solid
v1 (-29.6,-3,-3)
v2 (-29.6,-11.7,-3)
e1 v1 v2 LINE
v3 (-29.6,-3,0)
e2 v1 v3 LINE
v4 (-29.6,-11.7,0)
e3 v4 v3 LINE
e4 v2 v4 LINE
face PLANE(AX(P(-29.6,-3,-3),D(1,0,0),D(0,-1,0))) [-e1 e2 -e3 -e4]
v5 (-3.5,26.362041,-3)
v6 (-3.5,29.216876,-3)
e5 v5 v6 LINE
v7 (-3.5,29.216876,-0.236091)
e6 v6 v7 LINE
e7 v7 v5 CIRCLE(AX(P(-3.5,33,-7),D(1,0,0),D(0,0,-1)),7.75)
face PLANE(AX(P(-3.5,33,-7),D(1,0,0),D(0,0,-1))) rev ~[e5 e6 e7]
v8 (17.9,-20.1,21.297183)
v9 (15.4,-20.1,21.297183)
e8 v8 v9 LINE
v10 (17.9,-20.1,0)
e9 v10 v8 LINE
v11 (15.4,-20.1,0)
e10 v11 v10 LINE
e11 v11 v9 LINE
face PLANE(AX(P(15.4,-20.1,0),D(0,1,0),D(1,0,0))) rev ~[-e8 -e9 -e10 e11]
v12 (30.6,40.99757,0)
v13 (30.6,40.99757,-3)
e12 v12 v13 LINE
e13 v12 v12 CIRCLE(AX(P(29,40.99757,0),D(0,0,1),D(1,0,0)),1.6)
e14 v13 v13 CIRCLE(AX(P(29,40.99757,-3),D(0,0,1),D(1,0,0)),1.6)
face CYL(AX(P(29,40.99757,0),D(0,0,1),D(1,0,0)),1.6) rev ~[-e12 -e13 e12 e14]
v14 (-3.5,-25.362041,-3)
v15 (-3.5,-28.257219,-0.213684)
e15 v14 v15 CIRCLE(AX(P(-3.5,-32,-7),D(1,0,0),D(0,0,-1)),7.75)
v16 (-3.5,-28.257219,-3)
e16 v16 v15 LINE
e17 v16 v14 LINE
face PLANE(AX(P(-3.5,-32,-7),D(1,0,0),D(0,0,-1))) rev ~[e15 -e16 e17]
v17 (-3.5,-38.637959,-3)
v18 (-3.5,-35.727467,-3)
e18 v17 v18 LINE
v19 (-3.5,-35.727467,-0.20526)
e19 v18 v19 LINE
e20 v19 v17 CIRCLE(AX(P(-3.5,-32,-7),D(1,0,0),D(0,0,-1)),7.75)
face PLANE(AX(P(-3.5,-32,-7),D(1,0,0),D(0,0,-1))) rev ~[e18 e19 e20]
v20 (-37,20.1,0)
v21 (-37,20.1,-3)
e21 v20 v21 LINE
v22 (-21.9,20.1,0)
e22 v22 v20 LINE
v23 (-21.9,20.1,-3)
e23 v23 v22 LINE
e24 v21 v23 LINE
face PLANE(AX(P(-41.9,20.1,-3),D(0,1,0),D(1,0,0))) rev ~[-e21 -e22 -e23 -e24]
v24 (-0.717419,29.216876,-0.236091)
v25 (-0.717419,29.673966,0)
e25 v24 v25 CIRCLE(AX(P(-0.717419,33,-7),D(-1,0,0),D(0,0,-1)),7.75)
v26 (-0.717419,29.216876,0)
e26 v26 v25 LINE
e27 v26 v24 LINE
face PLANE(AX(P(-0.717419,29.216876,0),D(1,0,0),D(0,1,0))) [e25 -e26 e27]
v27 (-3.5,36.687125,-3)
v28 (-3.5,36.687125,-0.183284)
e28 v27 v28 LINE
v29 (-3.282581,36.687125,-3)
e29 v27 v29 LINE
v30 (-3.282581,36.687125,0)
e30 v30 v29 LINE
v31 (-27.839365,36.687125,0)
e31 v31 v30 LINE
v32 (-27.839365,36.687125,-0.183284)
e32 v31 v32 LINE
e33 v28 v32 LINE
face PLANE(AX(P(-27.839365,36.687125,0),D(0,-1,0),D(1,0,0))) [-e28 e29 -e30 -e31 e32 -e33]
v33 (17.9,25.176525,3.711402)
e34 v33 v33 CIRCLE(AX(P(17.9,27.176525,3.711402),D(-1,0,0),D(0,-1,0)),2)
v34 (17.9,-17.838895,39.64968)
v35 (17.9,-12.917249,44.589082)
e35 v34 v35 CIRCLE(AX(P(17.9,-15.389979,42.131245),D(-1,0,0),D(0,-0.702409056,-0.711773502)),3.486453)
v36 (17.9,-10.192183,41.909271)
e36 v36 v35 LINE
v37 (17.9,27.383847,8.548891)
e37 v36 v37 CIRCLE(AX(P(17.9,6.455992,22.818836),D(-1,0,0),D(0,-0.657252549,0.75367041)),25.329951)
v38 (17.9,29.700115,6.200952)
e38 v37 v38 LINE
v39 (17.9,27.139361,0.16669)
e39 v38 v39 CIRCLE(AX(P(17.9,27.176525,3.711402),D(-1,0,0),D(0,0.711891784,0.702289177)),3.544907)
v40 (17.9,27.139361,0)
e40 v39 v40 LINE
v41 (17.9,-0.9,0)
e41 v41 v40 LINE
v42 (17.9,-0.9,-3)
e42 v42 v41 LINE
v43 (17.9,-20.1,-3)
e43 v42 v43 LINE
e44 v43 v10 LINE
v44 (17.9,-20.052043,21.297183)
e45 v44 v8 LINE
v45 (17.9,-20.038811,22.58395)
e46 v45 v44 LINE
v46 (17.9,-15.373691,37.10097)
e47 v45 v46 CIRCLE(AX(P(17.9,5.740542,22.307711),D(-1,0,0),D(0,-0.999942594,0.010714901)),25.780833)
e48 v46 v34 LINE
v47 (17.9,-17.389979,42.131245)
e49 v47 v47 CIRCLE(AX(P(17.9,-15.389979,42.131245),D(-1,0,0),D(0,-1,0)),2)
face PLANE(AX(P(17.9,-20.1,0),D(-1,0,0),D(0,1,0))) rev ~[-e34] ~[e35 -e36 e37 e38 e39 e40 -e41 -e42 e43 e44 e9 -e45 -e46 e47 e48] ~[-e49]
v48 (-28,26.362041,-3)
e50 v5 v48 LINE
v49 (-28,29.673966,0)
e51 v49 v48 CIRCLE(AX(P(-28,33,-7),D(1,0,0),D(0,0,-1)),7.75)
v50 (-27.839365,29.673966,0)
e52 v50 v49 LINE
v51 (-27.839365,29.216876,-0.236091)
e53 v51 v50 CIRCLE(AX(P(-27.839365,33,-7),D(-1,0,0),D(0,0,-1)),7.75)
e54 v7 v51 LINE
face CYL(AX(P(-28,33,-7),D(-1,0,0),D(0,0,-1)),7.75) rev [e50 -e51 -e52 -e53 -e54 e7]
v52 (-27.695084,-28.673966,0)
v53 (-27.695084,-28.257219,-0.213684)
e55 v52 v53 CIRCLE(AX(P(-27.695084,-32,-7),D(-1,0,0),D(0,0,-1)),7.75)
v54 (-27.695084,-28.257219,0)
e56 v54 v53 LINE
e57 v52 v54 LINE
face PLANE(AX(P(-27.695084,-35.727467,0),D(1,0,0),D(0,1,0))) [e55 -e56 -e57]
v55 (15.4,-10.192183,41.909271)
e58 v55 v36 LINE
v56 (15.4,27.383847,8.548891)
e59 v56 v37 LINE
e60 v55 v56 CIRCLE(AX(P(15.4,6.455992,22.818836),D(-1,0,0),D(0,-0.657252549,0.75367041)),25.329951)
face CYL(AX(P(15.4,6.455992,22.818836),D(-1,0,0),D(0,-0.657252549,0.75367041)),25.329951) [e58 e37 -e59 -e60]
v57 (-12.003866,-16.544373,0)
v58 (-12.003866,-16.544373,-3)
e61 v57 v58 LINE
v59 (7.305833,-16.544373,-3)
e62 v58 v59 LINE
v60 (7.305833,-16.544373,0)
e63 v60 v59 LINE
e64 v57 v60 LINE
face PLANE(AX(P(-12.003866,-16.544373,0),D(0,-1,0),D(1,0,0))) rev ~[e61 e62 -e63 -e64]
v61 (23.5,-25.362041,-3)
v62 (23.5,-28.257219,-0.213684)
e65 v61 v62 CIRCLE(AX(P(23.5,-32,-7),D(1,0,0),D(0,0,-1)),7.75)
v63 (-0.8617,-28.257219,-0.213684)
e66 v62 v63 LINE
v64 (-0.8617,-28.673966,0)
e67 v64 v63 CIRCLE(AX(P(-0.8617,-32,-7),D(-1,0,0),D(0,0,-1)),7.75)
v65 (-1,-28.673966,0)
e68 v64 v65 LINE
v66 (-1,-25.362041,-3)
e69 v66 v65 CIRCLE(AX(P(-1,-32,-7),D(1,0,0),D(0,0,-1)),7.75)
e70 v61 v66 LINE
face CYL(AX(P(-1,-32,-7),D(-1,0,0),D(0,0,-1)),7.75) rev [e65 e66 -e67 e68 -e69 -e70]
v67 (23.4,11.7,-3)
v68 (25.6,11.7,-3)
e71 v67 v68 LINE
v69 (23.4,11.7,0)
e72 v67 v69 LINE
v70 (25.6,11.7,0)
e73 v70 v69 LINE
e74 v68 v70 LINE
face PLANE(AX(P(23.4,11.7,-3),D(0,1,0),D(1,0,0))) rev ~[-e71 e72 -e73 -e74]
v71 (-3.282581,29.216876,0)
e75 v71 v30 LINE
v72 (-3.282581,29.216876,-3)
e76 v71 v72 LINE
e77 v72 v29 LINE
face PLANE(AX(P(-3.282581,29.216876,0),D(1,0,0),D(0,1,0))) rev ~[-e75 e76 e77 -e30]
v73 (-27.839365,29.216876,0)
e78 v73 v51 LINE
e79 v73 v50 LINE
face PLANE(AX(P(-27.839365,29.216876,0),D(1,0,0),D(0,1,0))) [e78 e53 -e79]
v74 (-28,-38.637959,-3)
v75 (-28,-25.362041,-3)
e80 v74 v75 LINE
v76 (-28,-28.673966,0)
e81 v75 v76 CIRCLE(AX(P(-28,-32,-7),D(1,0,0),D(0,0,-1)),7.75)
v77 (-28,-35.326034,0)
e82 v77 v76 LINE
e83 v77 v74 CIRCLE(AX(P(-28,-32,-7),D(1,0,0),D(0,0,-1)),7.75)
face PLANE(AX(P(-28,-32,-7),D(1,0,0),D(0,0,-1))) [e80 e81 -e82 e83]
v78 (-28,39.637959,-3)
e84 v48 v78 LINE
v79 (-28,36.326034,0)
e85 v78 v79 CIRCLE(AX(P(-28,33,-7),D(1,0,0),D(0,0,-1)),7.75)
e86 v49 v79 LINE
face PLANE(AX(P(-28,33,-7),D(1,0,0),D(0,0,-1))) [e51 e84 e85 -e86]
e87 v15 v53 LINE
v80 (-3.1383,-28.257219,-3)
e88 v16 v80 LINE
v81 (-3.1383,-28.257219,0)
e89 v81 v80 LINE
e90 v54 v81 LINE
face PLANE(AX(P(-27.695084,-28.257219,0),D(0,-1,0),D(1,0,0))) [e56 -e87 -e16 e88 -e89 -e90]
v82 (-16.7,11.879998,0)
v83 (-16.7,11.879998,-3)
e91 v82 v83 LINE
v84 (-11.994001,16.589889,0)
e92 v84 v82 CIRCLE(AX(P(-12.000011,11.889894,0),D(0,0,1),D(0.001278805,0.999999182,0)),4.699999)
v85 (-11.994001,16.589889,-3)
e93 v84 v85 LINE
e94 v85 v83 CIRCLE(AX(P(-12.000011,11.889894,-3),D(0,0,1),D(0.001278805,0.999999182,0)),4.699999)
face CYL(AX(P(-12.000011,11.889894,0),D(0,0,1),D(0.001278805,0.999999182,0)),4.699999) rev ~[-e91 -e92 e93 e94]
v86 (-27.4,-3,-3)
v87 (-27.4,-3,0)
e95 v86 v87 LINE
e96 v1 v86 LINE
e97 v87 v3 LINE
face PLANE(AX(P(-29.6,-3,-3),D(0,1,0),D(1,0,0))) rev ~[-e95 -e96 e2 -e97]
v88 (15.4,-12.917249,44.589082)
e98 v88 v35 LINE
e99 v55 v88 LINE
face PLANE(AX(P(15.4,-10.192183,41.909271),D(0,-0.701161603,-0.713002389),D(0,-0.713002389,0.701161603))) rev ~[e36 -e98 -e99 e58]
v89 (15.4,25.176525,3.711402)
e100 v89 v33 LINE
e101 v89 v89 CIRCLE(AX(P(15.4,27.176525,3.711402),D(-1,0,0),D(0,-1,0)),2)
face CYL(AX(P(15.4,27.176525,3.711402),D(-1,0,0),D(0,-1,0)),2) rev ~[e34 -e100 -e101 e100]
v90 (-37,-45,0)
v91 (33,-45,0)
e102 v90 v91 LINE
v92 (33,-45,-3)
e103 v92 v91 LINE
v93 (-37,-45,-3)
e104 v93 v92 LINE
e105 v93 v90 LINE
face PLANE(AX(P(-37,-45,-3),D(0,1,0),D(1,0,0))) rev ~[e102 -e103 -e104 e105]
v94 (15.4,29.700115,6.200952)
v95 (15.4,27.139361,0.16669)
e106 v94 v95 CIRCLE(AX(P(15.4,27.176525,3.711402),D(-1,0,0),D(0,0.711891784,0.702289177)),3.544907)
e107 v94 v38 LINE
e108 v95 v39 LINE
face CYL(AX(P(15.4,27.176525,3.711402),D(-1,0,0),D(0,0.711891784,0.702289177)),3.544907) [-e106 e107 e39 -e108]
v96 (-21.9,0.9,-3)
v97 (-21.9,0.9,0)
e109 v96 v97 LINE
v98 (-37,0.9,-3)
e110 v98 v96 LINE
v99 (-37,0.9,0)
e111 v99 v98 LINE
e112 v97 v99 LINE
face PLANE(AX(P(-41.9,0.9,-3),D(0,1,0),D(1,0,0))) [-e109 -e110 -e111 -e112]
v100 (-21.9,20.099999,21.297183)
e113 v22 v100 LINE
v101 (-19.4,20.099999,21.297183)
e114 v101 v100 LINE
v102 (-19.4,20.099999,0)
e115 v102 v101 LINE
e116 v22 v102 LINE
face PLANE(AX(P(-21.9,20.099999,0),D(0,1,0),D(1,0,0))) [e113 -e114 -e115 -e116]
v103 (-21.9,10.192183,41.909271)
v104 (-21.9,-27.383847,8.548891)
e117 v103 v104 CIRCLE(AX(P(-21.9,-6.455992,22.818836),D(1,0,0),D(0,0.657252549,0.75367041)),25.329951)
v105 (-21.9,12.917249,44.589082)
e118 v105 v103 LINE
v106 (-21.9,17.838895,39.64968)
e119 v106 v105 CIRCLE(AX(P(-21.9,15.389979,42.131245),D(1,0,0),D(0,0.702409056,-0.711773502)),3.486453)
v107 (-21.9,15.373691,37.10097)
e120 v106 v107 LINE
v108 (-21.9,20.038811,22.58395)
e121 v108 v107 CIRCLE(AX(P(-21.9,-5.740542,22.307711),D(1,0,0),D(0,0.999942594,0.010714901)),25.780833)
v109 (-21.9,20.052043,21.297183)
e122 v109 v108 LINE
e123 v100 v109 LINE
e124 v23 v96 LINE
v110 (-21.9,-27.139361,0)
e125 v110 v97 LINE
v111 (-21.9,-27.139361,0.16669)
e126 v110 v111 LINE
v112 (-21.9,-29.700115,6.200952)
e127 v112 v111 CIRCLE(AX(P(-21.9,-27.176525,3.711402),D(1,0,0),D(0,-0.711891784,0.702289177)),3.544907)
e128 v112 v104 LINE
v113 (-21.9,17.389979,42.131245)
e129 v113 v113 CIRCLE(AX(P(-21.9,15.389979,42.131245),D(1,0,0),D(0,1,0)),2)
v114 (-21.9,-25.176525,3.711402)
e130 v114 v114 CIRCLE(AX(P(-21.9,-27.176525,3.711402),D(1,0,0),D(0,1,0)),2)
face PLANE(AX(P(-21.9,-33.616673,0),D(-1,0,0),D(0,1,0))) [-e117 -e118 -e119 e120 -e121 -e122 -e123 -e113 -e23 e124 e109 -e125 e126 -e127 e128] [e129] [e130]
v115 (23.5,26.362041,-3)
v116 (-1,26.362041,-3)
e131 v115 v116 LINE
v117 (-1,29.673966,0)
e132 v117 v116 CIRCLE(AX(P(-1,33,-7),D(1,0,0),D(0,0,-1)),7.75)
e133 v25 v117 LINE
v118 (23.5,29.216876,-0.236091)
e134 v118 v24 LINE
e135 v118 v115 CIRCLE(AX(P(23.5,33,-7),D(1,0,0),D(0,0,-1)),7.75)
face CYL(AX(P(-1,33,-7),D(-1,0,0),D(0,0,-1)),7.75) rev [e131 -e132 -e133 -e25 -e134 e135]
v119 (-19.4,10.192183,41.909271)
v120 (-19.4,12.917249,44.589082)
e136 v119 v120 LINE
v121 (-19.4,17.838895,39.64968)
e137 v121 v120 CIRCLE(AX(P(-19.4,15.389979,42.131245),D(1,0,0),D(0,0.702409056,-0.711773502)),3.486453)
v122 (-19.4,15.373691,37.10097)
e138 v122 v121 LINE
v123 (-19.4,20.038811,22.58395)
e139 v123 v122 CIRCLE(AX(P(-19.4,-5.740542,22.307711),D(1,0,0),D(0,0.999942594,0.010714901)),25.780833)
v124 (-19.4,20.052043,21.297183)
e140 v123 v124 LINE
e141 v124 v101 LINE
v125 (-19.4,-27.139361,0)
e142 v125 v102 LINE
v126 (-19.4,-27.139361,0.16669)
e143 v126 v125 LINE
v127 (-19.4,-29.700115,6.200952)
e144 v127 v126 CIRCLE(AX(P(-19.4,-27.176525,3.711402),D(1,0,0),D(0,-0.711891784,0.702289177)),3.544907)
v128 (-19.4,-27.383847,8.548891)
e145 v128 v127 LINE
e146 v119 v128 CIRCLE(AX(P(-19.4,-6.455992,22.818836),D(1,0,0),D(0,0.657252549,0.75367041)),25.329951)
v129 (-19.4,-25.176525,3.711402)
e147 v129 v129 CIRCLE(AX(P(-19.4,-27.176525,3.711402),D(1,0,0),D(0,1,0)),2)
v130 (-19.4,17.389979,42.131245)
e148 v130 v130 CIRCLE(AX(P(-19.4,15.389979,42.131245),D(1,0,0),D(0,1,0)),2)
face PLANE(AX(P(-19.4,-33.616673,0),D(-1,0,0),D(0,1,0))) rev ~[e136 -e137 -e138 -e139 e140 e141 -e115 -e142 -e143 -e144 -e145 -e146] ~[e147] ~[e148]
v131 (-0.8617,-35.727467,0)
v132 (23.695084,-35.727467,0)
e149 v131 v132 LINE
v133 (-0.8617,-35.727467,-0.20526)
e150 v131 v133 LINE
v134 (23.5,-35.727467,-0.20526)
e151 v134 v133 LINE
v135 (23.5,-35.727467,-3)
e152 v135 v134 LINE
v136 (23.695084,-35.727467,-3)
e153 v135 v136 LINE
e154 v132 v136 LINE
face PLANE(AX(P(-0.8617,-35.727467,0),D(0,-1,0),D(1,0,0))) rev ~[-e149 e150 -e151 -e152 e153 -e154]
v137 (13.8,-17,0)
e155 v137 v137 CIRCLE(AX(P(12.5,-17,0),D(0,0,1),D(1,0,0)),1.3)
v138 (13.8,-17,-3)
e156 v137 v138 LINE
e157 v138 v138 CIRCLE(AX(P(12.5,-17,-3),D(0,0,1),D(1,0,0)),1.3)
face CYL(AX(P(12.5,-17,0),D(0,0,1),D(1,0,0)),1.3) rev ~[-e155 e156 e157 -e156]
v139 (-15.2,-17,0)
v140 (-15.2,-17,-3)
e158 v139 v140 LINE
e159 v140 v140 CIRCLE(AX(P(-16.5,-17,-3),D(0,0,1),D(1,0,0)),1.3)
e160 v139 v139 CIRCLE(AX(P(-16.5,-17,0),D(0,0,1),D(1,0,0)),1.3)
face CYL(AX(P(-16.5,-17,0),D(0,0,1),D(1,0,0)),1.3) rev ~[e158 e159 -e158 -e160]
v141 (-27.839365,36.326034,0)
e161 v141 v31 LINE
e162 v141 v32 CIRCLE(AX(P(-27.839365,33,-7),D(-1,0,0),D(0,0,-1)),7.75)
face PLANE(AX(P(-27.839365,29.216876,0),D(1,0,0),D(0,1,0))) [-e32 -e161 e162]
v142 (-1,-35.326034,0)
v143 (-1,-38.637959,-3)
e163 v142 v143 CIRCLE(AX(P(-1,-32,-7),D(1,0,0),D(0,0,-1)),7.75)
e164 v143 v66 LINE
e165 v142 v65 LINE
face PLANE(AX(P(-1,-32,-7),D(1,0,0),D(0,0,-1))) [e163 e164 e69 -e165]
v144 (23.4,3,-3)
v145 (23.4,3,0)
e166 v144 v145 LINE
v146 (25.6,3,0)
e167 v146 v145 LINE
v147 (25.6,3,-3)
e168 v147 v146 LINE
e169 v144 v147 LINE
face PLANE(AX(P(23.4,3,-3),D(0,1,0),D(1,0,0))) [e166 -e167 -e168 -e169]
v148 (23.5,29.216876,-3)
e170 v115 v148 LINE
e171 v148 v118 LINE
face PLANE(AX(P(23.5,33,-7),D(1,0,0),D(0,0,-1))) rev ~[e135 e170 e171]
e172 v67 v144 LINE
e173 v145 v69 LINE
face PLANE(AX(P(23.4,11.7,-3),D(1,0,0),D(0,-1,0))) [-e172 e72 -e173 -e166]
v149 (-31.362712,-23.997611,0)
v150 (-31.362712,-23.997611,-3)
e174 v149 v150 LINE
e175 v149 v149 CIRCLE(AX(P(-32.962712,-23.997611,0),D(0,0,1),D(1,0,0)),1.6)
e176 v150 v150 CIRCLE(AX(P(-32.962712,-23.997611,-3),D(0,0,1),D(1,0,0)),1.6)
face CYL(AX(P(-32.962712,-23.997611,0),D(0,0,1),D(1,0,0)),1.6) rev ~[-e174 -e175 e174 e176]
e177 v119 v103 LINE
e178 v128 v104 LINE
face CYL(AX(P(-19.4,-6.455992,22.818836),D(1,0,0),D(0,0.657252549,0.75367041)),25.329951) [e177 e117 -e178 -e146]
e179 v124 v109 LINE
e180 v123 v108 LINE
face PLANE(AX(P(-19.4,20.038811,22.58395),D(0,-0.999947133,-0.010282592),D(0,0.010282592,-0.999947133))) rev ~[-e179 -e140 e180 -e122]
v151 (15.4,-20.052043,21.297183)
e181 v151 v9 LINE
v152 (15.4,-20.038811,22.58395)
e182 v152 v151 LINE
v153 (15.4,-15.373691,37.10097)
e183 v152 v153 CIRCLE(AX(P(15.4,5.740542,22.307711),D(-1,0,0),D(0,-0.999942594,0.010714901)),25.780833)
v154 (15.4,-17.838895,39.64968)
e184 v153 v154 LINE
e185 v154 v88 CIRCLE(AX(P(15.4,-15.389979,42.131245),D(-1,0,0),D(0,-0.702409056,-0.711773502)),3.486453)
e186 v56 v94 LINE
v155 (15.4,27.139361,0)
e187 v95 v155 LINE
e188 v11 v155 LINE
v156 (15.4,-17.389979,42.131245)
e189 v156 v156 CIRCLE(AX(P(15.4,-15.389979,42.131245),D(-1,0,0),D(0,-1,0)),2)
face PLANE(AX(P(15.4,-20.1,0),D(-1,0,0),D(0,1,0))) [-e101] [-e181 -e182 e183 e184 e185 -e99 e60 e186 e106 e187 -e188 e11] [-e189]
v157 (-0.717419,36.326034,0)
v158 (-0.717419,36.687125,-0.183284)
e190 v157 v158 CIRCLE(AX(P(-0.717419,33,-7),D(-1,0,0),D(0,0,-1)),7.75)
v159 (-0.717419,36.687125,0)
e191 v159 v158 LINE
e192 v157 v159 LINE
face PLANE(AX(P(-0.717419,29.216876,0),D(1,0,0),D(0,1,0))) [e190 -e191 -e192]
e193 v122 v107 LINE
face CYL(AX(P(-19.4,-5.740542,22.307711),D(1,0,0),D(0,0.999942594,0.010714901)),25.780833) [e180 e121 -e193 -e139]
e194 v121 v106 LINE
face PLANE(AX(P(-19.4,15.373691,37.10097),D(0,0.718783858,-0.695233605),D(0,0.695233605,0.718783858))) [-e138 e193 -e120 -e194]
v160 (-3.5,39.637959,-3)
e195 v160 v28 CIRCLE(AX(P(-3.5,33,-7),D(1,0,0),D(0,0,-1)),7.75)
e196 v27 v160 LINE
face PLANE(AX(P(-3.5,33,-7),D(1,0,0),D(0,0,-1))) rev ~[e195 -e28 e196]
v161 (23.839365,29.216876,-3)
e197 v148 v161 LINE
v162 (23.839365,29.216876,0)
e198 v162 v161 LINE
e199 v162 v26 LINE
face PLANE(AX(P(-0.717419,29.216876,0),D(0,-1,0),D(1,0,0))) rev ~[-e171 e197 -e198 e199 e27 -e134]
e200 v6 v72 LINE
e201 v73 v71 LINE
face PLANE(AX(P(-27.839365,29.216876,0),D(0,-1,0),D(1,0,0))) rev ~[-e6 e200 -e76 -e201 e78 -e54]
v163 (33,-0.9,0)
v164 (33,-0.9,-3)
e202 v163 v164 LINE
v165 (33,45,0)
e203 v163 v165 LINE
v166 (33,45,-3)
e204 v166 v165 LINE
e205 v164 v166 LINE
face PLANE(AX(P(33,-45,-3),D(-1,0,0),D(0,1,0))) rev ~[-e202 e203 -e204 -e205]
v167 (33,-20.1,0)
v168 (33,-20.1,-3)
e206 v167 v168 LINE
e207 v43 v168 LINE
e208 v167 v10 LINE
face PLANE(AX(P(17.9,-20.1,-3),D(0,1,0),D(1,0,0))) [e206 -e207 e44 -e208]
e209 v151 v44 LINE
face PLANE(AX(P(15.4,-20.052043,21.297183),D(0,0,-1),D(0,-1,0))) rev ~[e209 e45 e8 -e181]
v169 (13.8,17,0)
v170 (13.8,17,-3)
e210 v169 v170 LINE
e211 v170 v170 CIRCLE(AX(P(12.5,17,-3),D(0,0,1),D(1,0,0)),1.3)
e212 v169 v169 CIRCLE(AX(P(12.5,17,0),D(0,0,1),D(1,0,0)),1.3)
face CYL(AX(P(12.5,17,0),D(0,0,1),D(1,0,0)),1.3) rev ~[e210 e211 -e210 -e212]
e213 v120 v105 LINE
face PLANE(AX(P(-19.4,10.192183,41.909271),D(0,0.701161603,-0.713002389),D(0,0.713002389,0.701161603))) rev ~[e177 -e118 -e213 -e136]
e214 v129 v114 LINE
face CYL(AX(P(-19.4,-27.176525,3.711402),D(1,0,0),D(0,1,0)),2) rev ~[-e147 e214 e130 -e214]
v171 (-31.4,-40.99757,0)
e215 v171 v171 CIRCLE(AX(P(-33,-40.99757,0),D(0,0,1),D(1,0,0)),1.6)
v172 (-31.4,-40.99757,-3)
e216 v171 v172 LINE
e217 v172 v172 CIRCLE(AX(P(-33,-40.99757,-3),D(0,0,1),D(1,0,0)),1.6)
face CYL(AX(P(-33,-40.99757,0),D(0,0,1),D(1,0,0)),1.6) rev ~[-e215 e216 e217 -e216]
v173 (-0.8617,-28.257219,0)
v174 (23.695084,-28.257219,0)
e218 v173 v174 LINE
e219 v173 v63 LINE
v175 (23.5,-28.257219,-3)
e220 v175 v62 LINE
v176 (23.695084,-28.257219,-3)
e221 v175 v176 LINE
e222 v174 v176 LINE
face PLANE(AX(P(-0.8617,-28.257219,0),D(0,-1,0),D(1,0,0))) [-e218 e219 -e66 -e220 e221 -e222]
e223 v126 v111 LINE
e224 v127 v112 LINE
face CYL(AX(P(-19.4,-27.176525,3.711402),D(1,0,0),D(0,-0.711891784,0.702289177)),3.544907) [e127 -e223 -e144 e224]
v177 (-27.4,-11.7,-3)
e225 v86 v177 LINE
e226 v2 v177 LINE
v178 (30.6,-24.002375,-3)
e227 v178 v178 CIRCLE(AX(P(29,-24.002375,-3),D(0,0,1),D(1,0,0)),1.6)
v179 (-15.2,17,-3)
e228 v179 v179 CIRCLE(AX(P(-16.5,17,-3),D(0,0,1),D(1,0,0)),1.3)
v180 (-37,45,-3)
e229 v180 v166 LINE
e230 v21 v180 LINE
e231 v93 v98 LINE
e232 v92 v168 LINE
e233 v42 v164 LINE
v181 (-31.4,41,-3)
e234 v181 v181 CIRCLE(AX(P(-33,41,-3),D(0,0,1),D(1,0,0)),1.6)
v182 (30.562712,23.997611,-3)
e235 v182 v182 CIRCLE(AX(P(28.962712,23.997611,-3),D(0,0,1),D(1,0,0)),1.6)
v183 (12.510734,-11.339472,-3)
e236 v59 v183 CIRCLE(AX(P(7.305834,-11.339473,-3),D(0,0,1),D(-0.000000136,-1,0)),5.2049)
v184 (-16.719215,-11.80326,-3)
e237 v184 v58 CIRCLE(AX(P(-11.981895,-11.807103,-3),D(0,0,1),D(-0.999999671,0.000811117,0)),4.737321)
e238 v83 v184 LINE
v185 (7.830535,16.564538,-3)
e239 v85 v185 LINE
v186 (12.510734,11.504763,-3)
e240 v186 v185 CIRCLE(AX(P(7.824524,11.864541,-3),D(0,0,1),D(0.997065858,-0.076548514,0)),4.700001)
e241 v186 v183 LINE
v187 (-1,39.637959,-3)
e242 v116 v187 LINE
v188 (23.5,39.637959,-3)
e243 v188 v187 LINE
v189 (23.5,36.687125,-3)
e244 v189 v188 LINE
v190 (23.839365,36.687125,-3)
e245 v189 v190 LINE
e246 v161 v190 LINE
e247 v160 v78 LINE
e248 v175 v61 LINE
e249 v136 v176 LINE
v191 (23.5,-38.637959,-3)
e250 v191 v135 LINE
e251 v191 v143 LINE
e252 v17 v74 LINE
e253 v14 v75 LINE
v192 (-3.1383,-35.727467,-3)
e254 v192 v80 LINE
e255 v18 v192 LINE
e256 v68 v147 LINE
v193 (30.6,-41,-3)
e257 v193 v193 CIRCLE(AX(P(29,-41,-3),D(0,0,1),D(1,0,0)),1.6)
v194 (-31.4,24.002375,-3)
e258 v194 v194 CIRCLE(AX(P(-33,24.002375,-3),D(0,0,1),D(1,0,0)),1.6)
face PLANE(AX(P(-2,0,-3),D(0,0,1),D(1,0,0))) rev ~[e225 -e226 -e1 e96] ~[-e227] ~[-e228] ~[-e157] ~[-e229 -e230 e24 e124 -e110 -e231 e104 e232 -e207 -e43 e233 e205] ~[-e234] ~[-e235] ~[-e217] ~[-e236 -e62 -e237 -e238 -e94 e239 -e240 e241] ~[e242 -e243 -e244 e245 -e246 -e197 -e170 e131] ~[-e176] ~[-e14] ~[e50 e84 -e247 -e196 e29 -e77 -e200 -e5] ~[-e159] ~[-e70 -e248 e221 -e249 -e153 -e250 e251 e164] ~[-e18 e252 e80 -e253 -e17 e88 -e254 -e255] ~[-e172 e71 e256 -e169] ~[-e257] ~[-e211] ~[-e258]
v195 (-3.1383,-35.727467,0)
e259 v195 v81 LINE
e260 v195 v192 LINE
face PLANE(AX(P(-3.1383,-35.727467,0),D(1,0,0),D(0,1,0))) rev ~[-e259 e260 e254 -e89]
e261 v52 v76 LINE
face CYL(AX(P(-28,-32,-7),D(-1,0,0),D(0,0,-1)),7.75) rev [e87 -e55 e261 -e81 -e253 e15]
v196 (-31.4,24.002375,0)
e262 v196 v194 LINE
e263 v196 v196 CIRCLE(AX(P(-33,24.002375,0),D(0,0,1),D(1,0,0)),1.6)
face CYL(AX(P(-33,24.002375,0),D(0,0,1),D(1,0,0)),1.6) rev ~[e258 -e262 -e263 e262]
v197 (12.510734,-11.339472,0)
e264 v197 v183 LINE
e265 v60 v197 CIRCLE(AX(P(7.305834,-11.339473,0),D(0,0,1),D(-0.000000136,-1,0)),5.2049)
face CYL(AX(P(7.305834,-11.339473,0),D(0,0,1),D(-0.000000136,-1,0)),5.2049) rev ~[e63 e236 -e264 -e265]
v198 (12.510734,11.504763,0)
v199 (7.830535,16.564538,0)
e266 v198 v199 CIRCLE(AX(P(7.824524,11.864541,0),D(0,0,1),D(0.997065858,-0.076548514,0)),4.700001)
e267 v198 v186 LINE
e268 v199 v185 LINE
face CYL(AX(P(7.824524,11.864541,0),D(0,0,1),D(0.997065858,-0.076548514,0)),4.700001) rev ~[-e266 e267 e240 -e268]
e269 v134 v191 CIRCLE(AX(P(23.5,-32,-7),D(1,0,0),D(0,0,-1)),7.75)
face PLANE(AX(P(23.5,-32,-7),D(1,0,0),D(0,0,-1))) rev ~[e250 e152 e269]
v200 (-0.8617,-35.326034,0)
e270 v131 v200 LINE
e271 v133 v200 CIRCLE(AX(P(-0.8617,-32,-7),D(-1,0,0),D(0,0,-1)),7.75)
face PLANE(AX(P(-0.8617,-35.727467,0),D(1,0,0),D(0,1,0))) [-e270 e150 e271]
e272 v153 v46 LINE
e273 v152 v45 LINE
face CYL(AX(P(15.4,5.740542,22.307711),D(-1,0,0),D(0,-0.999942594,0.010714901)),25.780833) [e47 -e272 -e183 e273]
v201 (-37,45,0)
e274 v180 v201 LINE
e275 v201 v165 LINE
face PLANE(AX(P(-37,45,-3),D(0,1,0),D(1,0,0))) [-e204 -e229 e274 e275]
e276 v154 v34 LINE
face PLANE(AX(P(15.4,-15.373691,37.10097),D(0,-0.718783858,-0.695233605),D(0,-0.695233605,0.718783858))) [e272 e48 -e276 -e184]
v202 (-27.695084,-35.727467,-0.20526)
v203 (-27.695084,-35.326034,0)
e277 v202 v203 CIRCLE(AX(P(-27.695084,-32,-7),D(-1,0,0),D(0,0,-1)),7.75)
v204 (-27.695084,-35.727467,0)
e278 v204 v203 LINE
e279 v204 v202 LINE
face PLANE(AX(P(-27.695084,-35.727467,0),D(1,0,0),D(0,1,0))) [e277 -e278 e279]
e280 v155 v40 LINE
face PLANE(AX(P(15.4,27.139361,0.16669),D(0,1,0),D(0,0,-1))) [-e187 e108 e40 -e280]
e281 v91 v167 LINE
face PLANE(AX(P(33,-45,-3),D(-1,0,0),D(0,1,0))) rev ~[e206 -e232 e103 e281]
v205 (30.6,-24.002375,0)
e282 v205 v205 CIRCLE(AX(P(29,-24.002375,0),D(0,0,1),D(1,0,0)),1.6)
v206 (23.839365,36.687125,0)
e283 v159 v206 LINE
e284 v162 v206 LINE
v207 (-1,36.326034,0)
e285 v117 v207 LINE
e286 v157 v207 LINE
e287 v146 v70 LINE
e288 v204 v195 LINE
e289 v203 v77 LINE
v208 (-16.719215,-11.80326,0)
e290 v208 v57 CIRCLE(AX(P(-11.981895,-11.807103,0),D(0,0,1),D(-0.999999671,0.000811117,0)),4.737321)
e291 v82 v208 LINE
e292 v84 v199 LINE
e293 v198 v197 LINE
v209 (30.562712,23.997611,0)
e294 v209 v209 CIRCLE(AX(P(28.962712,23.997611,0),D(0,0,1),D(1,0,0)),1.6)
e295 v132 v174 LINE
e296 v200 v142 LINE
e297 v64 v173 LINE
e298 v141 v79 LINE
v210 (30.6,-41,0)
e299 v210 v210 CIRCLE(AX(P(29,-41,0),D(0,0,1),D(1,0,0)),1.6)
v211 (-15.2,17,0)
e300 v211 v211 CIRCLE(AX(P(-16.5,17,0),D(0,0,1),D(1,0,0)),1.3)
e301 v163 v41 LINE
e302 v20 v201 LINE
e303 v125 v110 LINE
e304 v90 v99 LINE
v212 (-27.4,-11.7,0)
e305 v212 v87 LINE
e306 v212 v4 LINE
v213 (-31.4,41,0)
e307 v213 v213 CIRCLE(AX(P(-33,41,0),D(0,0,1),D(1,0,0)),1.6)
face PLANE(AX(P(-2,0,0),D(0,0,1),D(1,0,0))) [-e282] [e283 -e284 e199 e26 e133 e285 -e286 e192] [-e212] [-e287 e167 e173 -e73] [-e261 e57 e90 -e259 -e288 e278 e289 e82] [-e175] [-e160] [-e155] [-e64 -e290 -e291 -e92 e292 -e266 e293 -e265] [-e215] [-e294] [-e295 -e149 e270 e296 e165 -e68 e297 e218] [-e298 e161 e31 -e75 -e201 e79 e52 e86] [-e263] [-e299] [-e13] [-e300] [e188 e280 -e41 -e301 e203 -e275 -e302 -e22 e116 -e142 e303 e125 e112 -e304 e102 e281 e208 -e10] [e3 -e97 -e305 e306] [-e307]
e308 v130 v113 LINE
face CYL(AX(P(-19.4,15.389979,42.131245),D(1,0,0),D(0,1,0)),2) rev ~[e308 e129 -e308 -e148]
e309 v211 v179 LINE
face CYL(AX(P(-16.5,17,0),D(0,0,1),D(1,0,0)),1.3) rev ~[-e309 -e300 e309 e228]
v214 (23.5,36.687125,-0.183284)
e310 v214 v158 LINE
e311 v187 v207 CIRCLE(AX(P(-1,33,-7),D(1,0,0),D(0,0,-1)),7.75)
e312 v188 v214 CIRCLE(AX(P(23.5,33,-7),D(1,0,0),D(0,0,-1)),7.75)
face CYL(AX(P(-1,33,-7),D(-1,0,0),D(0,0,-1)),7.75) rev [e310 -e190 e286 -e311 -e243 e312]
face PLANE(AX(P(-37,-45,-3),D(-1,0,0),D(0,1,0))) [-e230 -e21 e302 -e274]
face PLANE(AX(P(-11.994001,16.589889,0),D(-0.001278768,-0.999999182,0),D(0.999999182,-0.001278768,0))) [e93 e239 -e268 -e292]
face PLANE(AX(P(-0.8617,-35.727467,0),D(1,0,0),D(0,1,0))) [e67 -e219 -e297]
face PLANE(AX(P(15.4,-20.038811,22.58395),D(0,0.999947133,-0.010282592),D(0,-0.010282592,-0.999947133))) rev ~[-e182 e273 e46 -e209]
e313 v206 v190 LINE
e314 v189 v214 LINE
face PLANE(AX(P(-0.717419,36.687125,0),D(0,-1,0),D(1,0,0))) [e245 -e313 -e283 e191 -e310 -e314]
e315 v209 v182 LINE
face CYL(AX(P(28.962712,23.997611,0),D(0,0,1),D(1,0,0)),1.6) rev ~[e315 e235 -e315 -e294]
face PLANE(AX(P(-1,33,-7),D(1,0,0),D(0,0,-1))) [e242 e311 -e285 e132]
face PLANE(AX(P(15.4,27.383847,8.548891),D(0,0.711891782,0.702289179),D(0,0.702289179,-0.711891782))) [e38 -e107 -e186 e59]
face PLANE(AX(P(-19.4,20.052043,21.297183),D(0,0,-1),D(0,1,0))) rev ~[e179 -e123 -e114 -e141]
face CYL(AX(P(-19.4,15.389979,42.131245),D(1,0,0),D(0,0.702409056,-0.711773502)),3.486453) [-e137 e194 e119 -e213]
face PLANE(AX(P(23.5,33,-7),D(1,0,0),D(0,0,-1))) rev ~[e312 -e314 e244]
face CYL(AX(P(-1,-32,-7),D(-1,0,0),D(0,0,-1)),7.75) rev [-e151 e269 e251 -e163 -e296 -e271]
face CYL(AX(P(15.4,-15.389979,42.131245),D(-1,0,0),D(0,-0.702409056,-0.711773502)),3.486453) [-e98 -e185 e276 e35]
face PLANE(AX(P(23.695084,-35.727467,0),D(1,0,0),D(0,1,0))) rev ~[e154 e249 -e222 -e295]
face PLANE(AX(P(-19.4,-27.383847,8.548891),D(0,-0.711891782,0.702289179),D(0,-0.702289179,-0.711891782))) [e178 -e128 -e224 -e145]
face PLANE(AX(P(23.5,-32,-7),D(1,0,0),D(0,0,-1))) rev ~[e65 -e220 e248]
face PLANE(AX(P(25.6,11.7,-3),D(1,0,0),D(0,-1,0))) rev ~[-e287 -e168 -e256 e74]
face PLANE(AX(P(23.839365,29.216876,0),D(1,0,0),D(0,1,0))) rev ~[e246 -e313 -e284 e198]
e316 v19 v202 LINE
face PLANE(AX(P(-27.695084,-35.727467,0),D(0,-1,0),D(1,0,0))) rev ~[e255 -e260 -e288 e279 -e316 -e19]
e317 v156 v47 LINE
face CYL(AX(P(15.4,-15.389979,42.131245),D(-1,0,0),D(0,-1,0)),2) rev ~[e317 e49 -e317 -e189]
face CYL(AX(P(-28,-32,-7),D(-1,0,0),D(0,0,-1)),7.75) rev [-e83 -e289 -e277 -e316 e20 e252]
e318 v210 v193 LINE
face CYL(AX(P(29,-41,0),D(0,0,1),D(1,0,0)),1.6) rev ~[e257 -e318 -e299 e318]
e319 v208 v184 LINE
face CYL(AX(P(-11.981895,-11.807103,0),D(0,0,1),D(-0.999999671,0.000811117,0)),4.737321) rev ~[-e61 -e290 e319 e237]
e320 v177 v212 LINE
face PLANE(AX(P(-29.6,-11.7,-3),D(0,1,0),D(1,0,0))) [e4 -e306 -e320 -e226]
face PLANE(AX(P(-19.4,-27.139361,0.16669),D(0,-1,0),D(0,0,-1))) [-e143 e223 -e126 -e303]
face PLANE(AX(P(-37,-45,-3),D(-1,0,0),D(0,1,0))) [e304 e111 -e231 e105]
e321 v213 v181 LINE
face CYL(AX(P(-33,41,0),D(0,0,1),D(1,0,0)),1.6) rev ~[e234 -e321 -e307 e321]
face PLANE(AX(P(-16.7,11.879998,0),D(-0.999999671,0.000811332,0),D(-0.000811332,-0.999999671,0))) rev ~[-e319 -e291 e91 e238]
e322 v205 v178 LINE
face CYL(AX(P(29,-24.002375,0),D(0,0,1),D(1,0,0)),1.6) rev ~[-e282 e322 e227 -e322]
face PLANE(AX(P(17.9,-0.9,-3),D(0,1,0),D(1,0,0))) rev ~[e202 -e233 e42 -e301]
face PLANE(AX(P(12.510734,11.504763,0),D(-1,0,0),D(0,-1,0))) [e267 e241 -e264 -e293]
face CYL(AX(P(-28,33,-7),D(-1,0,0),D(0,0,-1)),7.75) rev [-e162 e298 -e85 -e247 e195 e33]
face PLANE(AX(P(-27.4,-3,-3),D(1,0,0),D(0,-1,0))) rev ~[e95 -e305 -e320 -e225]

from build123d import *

# Parameters (mm, degrees)
CYLINDER003_R           = 7.75
CYLINDER003_DEPTH       = 24.5
CYLINDER003_PITCH_ANGLE = 90
CYLINDER002_R           = 7.75
CYLINDER002_DEPTH       = 24.5
CYLINDER002_PITCH_ANGLE = 90
CYLINDER001_R           = 7.75
CYLINDER001_DEPTH       = 24.5
CYLINDER001_PITCH_ANGLE = 90
CYLINDER_R              = 7.75
CYLINDER_DEPTH          = 24.5
CYLINDER_PITCH_ANGLE    = 90
SKETCH_W                = 70
SKETCH_H                = 90
PAD_DEPTH               = 3
SKETCH001_R             = 1.6
SKETCH001_W             = 24.556784
SKETCH001_H             = 7.470249
SKETCH001_H_2           = 7.470248
POCKET_DEPTH            = 3.001
SKETCH002_R             = 1.3
POCKET001_DEPTH         = 5
SKETCH003_W             = 20
SKETCH003_H             = 19.2
SKETCH003_W_2           = 2.2
SKETCH003_H_2           = 8.7
POCKET002_DEPTH         = 5
SKETCH004_W             = 2.5
SKETCH004_H             = 53.716673
SKETCH004_H_2           = 52.48084
PAD001_DEPTH            = 50
SKETCH005_R             = 2
POCKET003_DEPTH         = 5
SKETCH006_R             = 2
POCKET004_DEPTH         = 5


with BuildPart() as cilindro003:
    # Cylinder003 → Cylinder003 (new body)
    with BuildSketch(Plane.XY):
        Circle(CYLINDER003_R)
    extrude(amount=CYLINDER003_DEPTH)


with BuildPart() as cilindro003_1:
    # Cylinder003 pitch: moved
    add(cilindro003.part.rotate(Axis((0, 0, 0), (0, 1, 0)), CYLINDER003_PITCH_ANGLE))


with BuildPart() as cilindro003_2:
    # Cylinder003 placement: moved
    add(cilindro003_1.part.moved(Location((1, 33, -4))))


with BuildPart() as cilindro002:
    # Cylinder002 → Cylinder002 (new body)
    with BuildSketch(Plane.XY):
        Circle(CYLINDER002_R)
    extrude(amount=CYLINDER002_DEPTH)


with BuildPart() as cilindro002_1:
    # Cylinder002 pitch: moved
    add(cilindro002.part.rotate(Axis((0, 0, 0), (0, 1, 0)), CYLINDER002_PITCH_ANGLE))


with BuildPart() as cilindro002_2:
    # Cylinder002 placement: moved
    add(cilindro002_1.part.moved(Location((-26, 33, -4))))


with BuildPart() as cilindro001:
    # Cylinder001 → Cylinder001 (new body)
    with BuildSketch(Plane.XY):
        Circle(CYLINDER001_R)
    extrude(amount=CYLINDER001_DEPTH)


with BuildPart() as cilindro001_1:
    # Cylinder001 pitch: moved
    add(cilindro001.part.rotate(Axis((0, 0, 0), (0, 1, 0)), CYLINDER001_PITCH_ANGLE))


with BuildPart() as cilindro001_2:
    # Cylinder001 placement: moved
    add(cilindro001_1.part.moved(Location((1, -32, -4))))


with BuildPart() as cilindro:
    # Cylinder → Cylinder (new body)
    with BuildSketch(Plane.XY):
        Circle(CYLINDER_R)
    extrude(amount=CYLINDER_DEPTH)


with BuildPart() as cilindro_1:
    # Cylinder pitch: moved
    add(cilindro.part.rotate(Axis((0, 0, 0), (0, 1, 0)), CYLINDER_PITCH_ANGLE))


with BuildPart() as cilindro_2:
    # Cylinder placement: moved
    add(cilindro_1.part.moved(Location((-26, -32, -4))))


with BuildPart() as pocket004:
    # Sketch → Pad (new body)
    with BuildSketch(Plane.XY):
        Rectangle(SKETCH_W, SKETCH_H)
    extrude(amount=PAD_DEPTH)

    # Sketch001 → Pocket (cut, through all)
    with BuildSketch(Plane.XY.offset(3)):
        with Locations((-31, 41)):
            Circle(SKETCH001_R)
        with Locations((31, 40.99757)):
            Circle(SKETCH001_R)
        with Locations((30.962712, 23.997611)):
            Circle(SKETCH001_R)
        with Locations((-30.962712, -23.997611)):
            Circle(SKETCH001_R)
        with Locations((-31, -40.99757)):
            Circle(SKETCH001_R)
        with Locations((31, -24.002375)):
            Circle(SKETCH001_R)
        with Locations((31, -41)):
            Circle(SKETCH001_R)
        with Locations((-31, 24.002375)):
            Circle(SKETCH001_R)
        with Locations((-13.560973, 32.952)):
            Rectangle(SKETCH001_W, SKETCH001_H)
        with Locations((13.560973, 32.952)):
            Rectangle(SKETCH001_W, SKETCH001_H)
        with Locations((-13.416692, -31.992343)):
            Rectangle(SKETCH001_W, SKETCH001_H_2)
        with Locations((13.416692, -31.992343)):
            Rectangle(SKETCH001_W, SKETCH001_H_2)
    extrude(amount=-POCKET_DEPTH, mode=Mode.SUBTRACT)

    # Cut: cut Cilindro
    add(cilindro_2.part, mode=Mode.SUBTRACT)

    # Cut001: cut Cilindro001
    add(cilindro001_2.part, mode=Mode.SUBTRACT)

    # Cut002: cut Cilindro002
    add(cilindro002_2.part, mode=Mode.SUBTRACT)

    # Cut003: cut Cilindro003
    add(cilindro003_2.part, mode=Mode.SUBTRACT)


with BuildPart() as pocket004_1:
    # Cut003 placement: moved
    add(pocket004.part.moved(Location((-2, 0, -3))))

    # Sketch002 → Pocket001 (cut)
    with BuildSketch(Plane(origin=(-2, 0, 0), x_dir=(1, 0, 0), z_dir=(0, 0, 1))):
        with Locations((-14.5, 17)):
            Circle(SKETCH002_R)
        with Locations((14.5, 17)):
            Circle(SKETCH002_R)
        with Locations((-14.5, -17)):
            Circle(SKETCH002_R)
        with Locations((14.5, -17)):
            Circle(SKETCH002_R)
        with BuildLine():
            Line((-14.7, 11.879998), (-14.719215, -11.80326))
            ThreePointArc((-14.719215, -11.80326), (-13.340801, -15.147756), (-10.003866, -16.544373))
            Line((-10.003866, -16.544373), (9.305833, -16.544373))
            ThreePointArc((9.305833, -16.544373), (12.986254, -15.019893), (14.510734, -11.339472))
            Line((14.510734, 11.504763), (14.510734, -11.339472))
            ThreePointArc((14.510734, 11.504763), (13.274823, 15.056005), (9.830535, 16.564538))
            Line((-9.994001, 16.589889), (9.830535, 16.564538))
            ThreePointArc((-9.994001, 16.589889), (-13.324786, 15.211921), (-14.7, 11.879998))
        make_face()
    extrude(amount=-POCKET001_DEPTH, mode=Mode.SUBTRACT)

    # Sketch003 → Pocket002 (cut)
    with BuildSketch(Plane(origin=(-2, 0, -3), x_dir=(1, 0, 0), z_dir=(0, 0, -1))):
        with Locations((29.9, 10.5)):
            Rectangle(SKETCH003_W, SKETCH003_H)
        with Locations((26.5, -7.35)):
            Rectangle(SKETCH003_W_2, SKETCH003_H_2)
        with Locations((-26.5, 7.35)):
            Rectangle(SKETCH003_W_2, SKETCH003_H_2)
        with Locations((-29.9, -10.5)):
            Rectangle(SKETCH003_W, SKETCH003_H)
    extrude(amount=-POCKET002_DEPTH, mode=Mode.SUBTRACT)

    # Sketch004 → Pad001 (new body)
    with BuildSketch(Plane(origin=(-2, 0, 0), x_dir=(1, 0, 0), z_dir=(0, 0, 1))):
        with Locations((-18.65, -6.758337)):
            Rectangle(SKETCH004_W, SKETCH004_H)
        with Locations((18.65, 6.14042)):
            Rectangle(SKETCH004_W, SKETCH004_H_2)
    extrude(amount=PAD001_DEPTH)

    # Sketch005 → Pocket003 (cut)
    with BuildSketch(Plane(origin=(15.4, 0, -3), x_dir=(0, -1, 0), z_dir=(-1, 0, 0))):
        with Locations((-27.176525, 6.711402)):
            Circle(SKETCH005_R)
        with Locations((15.389979, 45.131245)):
            Circle(SKETCH005_R)
        with BuildLine():
            ThreePointArc((10.192183, 44.909271), (-23.272878, 44.760821), (-27.383847, 11.548891))
            Line((-27.383847, 11.548891), (-29.700115, 9.200952))
            ThreePointArc((-29.700115, 9.200952), (-30.439753, 5.326589), (-27.139361, 3.16669))
            Line((-27.139361, 3.16669), (-27.139361, 3))
            Line((-27.139361, 3), (-35.173277, 3))
            Line((-35.173277, 3), (-35.173277, 58.633105))
            Line((-1.788184, 58.633105), (-35.173277, 58.633105))
            Line((28.415094, 58.633105), (-1.788184, 58.633105))
            Line((28.415094, 24.297183), (28.415094, 58.633105))
            Line((20.052043, 24.297183), (28.415094, 24.297183))
            Line((20.038811, 25.58395), (20.052043, 24.297183))
            ThreePointArc((20.038811, 25.58395), (18.804072, 33.19525), (15.373691, 40.10097))
            Line((15.373691, 40.10097), (17.838895, 42.64968))
            ThreePointArc((17.838895, 42.64968), (17.859709, 47.592096), (12.917249, 47.589082))
            Line((10.192183, 44.909271), (12.917249, 47.589082))
        make_face()
    extrude(amount=-POCKET003_DEPTH, mode=Mode.SUBTRACT)

    # Sketch006 → Pocket004 (cut)
    with BuildSketch(Plane(origin=(-19.4, 0, -3), x_dir=(0, 1, 0), z_dir=(1, 0, 0))):
        with Locations((-27.176525, 6.711402)):
            Circle(SKETCH006_R)
        with Locations((15.389979, 45.131245)):
            Circle(SKETCH006_R)
        with BuildLine():
            ThreePointArc((10.192183, 44.909271), (-23.272878, 44.760821), (-27.383847, 11.548891))
            Line((-27.383847, 11.548891), (-29.700115, 9.200952))
            ThreePointArc((-29.700115, 9.200952), (-30.439753, 5.326589), (-27.139361, 3.16669))
            Line((-27.139361, 3.16669), (-27.139361, 3))
            Line((-27.139361, 3), (-35.173277, 3))
            Line((-35.173277, 3), (-35.173277, 58.633105))
            Line((-1.788184, 58.633105), (-35.173277, 58.633105))
            Line((28.415094, 58.633105), (-1.788184, 58.633105))
            Line((28.415094, 24.297183), (28.415094, 58.633105))
            Line((20.052043, 24.297183), (28.415094, 24.297183))
            Line((20.038811, 25.58395), (20.052043, 24.297183))
            ThreePointArc((20.038811, 25.58395), (18.804072, 33.19525), (15.373691, 40.10097))
            Line((15.373691, 40.10097), (17.838895, 42.64968))
            ThreePointArc((17.838895, 42.64968), (17.859709, 47.592096), (12.917249, 47.589082))
            Line((10.192183, 44.909271), (12.917249, 47.589082))
        make_face()
    extrude(amount=-POCKET004_DEPTH, mode=Mode.SUBTRACT)


solid = pocket004_1.part
